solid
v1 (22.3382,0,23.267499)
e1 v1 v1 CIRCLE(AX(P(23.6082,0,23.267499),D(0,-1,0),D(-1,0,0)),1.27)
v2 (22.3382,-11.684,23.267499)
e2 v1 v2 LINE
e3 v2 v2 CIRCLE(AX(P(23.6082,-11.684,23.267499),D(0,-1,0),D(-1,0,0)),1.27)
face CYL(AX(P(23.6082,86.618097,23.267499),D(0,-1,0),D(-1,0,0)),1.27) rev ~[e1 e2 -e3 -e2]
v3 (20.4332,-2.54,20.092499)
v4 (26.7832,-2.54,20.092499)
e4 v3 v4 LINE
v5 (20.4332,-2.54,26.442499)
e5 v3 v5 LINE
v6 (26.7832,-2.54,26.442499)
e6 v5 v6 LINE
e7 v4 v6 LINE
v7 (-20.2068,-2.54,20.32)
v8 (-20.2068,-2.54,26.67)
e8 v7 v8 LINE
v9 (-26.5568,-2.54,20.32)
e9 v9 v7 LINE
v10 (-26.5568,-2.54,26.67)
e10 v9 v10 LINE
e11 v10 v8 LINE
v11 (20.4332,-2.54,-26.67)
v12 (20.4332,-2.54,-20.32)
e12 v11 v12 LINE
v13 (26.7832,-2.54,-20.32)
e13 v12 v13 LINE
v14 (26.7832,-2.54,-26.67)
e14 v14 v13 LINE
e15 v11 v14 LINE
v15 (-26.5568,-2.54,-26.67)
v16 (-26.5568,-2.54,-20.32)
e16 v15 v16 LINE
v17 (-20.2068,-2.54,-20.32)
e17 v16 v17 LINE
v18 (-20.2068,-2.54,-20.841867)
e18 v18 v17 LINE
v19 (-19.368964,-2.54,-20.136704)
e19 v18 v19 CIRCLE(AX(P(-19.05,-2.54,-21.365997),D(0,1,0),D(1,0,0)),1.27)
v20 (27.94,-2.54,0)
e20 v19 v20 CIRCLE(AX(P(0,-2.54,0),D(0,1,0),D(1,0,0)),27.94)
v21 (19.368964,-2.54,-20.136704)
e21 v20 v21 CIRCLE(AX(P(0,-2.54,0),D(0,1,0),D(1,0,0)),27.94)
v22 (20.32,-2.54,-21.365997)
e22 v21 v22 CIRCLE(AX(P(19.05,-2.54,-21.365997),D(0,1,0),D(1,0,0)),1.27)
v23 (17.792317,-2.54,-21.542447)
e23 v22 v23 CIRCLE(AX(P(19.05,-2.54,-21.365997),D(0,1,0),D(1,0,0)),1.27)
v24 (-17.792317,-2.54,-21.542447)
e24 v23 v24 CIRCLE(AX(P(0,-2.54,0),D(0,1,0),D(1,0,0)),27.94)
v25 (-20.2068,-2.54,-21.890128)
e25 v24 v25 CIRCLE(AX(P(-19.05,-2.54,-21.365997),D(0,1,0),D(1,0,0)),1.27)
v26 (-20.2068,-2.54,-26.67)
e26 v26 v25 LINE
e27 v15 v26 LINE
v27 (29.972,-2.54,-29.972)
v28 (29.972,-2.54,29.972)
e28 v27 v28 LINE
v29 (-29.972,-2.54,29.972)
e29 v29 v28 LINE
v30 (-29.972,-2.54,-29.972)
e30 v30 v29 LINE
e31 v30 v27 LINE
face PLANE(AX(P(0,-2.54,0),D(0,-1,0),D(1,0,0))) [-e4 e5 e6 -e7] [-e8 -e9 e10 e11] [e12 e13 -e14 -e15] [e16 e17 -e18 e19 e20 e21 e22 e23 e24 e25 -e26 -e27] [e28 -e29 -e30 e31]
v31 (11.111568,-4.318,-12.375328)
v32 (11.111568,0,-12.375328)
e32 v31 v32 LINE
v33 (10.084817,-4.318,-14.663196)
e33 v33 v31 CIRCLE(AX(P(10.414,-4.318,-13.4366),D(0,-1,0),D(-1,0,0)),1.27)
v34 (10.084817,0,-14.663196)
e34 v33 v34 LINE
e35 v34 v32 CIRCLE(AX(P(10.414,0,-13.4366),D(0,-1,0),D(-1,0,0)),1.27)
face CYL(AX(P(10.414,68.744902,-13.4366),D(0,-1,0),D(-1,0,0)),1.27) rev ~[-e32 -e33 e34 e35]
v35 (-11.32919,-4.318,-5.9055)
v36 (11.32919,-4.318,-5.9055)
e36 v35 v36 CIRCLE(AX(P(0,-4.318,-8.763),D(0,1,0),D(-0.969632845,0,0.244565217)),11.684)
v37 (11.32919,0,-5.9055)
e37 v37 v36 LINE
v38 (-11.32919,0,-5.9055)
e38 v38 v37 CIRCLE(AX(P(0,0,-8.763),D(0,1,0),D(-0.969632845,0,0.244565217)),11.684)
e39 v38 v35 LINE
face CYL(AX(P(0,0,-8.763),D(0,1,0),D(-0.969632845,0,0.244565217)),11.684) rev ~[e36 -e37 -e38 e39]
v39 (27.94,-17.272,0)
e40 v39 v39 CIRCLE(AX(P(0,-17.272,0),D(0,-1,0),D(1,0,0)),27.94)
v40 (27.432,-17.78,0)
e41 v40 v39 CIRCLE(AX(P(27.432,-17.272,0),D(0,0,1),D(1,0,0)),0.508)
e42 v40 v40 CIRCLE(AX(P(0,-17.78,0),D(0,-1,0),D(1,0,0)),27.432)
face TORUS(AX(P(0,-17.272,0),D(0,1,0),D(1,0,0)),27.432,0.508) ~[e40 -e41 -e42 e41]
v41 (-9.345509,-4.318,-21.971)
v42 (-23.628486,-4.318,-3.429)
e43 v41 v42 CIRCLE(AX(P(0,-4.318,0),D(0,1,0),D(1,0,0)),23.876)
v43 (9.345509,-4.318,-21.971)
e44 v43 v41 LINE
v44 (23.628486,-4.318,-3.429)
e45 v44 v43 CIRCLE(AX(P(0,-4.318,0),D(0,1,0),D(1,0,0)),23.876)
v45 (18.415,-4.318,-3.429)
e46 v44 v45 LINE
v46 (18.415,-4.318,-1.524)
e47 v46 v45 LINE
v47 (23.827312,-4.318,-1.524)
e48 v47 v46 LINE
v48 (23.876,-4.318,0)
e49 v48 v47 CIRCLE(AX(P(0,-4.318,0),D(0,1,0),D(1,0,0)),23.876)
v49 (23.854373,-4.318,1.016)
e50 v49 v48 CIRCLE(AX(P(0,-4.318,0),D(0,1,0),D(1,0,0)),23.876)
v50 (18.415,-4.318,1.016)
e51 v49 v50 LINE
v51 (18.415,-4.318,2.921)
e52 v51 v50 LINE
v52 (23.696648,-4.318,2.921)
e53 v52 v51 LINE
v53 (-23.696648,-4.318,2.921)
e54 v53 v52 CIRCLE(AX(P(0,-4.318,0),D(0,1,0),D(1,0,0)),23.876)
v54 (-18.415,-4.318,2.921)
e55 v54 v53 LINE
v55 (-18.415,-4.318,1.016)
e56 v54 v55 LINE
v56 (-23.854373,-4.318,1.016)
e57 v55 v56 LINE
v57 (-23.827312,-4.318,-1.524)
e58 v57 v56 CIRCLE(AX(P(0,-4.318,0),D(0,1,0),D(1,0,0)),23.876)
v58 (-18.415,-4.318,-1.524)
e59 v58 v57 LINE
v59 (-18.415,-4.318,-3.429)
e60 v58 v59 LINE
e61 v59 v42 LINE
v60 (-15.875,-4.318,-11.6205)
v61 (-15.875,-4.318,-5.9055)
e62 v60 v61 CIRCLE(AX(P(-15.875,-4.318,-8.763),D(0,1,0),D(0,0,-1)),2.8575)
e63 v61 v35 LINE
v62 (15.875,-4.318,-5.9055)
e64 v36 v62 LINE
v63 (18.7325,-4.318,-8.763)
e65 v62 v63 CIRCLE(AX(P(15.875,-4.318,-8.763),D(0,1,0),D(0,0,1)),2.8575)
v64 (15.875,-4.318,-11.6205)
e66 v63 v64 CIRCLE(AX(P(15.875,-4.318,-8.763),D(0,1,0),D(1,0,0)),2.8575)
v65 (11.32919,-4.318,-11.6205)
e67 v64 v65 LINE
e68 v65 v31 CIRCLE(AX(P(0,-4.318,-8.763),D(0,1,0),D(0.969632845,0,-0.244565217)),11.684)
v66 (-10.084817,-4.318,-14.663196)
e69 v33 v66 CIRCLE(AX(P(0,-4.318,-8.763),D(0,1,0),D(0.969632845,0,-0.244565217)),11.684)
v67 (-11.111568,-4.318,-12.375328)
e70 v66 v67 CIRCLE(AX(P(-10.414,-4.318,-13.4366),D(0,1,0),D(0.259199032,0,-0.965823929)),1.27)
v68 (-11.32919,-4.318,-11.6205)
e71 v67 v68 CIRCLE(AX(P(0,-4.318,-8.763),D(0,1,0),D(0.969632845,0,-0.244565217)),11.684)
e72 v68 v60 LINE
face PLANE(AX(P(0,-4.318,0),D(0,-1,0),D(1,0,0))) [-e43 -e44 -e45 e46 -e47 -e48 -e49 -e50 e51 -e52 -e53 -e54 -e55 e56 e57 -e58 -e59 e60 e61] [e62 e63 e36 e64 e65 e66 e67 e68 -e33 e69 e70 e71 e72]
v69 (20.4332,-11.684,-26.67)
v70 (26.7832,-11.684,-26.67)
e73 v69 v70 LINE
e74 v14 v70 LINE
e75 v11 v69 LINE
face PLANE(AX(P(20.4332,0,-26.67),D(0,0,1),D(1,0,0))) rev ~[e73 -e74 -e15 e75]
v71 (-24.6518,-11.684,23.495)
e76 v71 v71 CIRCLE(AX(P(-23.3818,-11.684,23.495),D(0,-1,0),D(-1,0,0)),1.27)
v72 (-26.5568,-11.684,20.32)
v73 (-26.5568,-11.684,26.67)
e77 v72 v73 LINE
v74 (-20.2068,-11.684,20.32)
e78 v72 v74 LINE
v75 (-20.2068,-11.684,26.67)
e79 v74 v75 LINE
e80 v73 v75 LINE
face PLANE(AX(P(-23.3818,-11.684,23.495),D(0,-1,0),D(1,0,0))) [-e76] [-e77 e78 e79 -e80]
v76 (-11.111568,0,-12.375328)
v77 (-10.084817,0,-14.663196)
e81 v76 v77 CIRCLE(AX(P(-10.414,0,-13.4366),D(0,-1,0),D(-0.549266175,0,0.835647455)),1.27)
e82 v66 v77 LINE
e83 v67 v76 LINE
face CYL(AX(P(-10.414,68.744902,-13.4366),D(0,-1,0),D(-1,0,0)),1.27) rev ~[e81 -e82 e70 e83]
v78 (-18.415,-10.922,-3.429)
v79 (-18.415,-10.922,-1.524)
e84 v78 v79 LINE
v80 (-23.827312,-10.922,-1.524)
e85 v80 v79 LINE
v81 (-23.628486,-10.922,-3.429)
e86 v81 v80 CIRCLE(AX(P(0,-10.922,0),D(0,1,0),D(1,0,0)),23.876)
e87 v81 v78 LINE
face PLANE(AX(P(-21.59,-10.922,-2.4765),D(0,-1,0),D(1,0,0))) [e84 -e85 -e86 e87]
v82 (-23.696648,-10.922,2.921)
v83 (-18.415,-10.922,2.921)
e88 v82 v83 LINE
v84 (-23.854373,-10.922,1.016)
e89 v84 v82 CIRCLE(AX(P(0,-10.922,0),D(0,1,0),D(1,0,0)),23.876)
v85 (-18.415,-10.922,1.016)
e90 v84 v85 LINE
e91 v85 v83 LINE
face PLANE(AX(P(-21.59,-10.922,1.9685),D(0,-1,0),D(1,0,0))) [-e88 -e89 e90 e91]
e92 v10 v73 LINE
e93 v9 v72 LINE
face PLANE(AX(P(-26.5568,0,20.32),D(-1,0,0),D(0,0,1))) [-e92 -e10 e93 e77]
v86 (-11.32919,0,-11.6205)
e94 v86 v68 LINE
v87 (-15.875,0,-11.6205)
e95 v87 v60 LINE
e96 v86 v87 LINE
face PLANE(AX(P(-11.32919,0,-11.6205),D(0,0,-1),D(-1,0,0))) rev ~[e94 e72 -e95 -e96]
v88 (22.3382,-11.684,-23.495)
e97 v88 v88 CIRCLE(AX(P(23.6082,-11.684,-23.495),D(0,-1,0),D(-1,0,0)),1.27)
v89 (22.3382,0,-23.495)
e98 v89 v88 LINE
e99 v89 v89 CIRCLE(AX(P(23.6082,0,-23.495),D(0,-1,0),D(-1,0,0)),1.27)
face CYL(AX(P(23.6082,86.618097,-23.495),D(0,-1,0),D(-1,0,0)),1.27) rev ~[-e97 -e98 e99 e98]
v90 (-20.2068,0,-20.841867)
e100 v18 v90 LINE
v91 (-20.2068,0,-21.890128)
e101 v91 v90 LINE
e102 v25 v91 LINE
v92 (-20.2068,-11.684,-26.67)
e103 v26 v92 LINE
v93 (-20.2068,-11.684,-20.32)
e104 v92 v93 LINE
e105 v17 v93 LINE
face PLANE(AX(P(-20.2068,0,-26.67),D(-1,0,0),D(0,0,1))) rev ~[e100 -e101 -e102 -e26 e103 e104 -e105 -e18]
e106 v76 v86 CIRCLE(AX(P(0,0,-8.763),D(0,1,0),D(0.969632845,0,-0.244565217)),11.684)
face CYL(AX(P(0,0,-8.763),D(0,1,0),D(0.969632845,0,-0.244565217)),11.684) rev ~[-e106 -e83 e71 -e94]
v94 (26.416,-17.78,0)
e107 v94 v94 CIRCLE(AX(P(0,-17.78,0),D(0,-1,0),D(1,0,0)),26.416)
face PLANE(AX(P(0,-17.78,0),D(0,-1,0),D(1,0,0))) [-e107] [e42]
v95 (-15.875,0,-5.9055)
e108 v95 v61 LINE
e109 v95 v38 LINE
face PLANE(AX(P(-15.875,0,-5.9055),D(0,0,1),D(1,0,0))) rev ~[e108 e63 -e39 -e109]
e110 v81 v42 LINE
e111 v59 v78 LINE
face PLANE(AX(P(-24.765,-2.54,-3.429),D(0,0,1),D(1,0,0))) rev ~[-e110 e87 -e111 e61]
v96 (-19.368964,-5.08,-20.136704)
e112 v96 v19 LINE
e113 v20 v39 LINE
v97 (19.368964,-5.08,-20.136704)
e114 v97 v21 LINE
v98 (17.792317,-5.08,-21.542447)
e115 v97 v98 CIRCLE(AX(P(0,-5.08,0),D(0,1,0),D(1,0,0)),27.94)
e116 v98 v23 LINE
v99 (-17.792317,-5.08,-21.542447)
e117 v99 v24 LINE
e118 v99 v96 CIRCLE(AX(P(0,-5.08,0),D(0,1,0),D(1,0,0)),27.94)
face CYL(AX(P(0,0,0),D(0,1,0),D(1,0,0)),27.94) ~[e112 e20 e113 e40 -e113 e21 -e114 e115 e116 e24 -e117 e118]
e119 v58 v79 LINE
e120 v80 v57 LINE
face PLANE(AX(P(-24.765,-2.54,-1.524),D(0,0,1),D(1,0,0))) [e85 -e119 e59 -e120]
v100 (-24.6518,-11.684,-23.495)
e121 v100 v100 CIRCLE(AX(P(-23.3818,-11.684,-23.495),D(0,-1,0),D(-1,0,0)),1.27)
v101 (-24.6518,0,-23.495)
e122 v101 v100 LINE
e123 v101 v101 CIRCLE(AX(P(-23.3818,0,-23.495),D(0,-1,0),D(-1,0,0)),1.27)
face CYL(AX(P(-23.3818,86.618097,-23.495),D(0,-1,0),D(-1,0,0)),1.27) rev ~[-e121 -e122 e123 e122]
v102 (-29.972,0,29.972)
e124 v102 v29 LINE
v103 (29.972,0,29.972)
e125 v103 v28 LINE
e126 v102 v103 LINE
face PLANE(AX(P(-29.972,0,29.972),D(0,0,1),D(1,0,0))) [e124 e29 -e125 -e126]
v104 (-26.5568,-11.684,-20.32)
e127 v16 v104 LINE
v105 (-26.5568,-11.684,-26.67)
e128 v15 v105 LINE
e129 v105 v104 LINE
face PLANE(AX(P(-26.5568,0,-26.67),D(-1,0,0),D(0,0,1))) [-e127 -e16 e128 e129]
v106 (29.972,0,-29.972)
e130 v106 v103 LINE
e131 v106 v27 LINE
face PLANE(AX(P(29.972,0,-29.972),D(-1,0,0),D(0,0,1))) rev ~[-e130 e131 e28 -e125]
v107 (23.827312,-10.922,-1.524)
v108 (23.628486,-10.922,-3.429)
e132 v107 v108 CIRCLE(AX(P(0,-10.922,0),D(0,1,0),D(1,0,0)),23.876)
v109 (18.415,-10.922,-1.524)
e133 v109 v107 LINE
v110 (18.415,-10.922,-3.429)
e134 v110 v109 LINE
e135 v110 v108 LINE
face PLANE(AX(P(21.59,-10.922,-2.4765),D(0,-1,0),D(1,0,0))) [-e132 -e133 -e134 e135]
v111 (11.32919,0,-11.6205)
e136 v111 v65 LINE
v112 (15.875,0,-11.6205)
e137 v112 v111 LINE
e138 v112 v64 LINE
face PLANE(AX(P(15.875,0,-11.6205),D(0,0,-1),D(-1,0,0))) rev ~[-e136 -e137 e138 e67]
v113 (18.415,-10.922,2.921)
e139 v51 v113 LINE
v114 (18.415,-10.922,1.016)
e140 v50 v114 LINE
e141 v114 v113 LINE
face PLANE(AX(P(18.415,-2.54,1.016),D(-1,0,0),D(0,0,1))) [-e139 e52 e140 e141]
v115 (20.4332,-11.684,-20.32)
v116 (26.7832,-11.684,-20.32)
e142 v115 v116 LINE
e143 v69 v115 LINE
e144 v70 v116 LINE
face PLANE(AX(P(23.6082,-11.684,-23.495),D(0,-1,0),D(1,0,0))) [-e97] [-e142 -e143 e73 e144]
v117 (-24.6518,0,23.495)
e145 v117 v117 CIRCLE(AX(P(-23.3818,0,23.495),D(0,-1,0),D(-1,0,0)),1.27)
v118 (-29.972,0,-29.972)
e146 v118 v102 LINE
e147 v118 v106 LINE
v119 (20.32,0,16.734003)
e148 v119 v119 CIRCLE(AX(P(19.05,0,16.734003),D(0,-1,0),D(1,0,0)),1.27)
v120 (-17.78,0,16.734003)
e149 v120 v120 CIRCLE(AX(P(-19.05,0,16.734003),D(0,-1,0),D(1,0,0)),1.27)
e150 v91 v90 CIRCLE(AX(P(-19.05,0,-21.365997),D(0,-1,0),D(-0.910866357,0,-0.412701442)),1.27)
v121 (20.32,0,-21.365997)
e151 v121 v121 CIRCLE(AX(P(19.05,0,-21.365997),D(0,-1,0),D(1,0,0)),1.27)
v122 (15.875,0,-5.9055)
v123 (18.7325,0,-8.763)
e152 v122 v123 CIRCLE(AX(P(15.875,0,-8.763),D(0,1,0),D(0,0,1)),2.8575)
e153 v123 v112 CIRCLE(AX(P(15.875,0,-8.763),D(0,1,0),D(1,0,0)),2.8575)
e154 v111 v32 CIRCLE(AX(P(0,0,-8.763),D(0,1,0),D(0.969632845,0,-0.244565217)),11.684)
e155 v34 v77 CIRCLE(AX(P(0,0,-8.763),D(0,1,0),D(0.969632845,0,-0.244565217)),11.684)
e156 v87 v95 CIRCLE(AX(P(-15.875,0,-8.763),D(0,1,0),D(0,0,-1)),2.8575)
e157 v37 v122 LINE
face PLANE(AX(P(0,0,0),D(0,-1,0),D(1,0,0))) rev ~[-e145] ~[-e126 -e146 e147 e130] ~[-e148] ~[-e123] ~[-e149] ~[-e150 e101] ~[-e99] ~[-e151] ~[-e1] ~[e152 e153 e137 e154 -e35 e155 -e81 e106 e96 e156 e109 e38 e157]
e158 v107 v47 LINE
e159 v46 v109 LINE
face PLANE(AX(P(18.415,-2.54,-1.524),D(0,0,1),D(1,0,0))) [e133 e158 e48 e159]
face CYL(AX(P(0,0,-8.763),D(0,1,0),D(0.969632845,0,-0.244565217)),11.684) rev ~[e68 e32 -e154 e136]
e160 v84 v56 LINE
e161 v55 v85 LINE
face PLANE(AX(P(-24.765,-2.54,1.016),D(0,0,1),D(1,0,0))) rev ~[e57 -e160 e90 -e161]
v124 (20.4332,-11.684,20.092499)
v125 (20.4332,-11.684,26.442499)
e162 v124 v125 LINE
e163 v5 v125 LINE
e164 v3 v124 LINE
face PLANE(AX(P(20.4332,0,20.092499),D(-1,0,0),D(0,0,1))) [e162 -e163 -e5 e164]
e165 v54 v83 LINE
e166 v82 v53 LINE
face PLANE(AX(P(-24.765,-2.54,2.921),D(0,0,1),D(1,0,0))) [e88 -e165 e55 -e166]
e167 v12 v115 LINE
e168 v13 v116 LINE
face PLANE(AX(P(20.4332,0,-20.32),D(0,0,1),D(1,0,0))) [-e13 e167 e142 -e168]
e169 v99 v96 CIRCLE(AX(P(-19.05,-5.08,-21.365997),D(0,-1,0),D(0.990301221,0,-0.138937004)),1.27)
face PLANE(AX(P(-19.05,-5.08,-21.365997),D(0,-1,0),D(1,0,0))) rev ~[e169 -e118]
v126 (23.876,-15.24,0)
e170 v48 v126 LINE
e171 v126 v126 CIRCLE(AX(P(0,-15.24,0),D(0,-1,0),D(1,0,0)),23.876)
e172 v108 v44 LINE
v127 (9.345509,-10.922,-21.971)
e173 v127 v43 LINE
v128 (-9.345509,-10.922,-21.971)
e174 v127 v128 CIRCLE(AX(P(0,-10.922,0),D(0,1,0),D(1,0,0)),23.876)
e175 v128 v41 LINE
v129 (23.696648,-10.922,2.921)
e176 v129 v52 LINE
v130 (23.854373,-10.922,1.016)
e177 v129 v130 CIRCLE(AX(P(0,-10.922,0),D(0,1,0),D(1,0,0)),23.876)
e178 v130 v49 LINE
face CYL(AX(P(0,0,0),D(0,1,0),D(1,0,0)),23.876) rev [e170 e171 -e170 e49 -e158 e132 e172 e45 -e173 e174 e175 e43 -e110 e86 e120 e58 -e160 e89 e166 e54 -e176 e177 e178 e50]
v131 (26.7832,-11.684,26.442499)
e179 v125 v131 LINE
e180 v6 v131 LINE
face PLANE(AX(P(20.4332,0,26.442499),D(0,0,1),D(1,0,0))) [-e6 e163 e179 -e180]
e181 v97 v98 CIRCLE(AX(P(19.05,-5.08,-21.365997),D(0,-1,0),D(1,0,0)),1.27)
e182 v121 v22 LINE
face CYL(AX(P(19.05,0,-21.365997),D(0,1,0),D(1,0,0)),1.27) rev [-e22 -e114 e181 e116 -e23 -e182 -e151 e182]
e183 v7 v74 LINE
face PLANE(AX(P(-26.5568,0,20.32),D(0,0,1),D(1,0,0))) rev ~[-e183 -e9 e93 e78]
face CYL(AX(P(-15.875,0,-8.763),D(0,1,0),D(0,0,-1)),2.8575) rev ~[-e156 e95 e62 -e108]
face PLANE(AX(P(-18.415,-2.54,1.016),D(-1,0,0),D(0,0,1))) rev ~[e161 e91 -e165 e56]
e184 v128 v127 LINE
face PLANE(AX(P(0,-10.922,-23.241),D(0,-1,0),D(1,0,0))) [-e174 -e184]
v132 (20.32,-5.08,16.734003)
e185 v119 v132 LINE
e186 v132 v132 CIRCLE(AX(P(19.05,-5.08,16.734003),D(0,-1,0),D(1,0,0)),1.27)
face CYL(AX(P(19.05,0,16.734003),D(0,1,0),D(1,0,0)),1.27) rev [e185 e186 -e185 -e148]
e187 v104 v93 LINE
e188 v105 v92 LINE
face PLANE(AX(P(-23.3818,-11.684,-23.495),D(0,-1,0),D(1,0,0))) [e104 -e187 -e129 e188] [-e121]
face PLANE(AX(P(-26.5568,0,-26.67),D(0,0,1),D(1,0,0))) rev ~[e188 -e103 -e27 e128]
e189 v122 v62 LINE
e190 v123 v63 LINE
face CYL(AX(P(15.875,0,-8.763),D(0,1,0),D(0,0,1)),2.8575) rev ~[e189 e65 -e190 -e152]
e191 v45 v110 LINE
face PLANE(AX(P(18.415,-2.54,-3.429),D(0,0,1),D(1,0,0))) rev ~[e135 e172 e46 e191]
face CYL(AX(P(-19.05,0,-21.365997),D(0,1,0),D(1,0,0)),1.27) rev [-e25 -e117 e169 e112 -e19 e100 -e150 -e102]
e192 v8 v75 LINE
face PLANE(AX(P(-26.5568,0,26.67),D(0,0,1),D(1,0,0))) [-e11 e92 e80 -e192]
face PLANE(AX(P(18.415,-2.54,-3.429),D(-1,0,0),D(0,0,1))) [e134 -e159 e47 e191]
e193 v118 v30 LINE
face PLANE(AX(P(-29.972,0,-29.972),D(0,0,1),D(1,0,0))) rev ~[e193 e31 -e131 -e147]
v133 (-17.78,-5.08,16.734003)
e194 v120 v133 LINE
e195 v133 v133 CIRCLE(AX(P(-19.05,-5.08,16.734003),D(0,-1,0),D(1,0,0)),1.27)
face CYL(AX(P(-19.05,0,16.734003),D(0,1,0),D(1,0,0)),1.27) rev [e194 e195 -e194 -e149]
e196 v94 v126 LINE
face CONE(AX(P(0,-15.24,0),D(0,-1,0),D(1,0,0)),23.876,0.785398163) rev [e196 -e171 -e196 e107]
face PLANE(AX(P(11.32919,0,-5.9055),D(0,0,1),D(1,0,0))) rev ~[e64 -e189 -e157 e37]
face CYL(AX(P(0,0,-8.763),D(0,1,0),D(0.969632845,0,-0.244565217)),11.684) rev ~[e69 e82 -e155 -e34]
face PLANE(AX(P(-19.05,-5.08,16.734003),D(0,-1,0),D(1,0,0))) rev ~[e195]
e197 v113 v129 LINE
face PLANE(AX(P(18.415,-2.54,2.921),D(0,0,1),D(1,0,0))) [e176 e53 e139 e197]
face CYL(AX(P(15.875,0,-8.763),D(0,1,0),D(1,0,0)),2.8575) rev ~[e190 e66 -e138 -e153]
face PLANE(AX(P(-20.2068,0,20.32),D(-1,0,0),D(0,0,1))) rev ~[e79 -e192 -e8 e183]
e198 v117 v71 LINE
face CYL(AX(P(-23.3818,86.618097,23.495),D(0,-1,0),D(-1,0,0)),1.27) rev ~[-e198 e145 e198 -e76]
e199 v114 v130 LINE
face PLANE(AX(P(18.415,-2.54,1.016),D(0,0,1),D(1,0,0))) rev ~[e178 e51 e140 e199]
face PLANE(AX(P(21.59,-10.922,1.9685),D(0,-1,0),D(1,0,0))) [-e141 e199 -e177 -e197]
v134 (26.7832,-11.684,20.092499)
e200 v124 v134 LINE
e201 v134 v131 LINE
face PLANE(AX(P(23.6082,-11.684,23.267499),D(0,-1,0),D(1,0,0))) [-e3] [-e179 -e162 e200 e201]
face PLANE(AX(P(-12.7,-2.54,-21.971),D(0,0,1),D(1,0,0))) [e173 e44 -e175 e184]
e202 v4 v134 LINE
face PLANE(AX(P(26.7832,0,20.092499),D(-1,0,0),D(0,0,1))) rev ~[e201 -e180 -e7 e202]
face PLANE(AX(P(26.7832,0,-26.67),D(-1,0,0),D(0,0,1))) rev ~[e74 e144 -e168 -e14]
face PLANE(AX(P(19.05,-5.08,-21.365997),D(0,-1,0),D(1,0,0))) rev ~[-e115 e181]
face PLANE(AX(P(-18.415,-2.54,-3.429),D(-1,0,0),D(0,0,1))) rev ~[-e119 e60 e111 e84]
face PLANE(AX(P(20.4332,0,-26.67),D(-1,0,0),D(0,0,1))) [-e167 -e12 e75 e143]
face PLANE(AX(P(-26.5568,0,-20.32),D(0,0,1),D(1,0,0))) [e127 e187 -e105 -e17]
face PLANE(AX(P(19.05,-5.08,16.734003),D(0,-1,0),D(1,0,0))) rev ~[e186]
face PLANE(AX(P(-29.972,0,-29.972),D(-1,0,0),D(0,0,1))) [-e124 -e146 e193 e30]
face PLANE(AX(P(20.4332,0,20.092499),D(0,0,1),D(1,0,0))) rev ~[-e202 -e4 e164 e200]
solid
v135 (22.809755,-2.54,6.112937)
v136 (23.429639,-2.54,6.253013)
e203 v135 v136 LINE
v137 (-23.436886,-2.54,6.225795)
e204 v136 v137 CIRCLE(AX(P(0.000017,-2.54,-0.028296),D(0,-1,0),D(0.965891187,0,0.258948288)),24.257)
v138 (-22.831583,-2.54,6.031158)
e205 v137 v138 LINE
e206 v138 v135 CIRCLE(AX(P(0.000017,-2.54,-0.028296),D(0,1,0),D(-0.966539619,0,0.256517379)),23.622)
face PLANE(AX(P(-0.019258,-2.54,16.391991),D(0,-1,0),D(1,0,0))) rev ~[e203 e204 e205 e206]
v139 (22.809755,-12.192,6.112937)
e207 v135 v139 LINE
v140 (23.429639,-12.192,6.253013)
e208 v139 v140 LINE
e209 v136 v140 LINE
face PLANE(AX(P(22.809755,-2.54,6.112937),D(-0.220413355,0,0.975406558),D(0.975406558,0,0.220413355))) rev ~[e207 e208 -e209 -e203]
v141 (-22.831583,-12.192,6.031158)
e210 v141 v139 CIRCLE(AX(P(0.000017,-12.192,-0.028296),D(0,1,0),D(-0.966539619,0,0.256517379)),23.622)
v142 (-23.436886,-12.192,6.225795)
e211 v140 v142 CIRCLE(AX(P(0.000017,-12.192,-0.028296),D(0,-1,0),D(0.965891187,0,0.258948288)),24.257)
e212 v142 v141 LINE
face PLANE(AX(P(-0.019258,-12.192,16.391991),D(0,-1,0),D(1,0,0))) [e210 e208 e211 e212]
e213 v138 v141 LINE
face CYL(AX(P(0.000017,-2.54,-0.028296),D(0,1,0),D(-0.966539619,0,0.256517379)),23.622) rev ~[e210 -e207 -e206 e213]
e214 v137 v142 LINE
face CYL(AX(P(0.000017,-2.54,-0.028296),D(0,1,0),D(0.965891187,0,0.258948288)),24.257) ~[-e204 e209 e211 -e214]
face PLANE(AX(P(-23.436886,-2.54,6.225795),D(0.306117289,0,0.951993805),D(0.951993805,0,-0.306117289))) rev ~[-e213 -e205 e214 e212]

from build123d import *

# Parameters (mm, degrees)
F0_R      = 24.257
F1_DEPTH  = 4.318
F2_D      = 2.54
F3_DEPTH  = 10.922
F4_R      = 27.94
F4_R_2    = 23.876
F5_DEPTH  = 17.78
F0_W      = 59.944
F0_H      = 59.944
F0_W_2    = 6.35
F0_H_2    = 6.35
F8_DEPTH  = 2.54
F10_DEPTH = 9.652
F11_R     = 1.27
F12_DEPTH = 5.08
F7_W      = 25.4
F7_H      = 2.54
F7_W_2    = 6.35
F7_H_2    = 1.905
F13_DEPTH = 8.382
F14_DEPTH = 11.684
F15_D     = 2.54
F16_SIZE  = 2.54
F17_R     = 0.508


with BuildPart() as f1:
    # F0 (on Front) → F1 (new body)
    with BuildSketch(Plane.XZ):
        Circle(F0_R)
        with BuildLine():
            ThreePointArc((-11.329190163, -5.9055), (0, 2.921), (11.329190163, -5.9055))
            Line((11.329190163, -5.9055), (15.875, -5.9055))
            ThreePointArc((15.875, -5.9055), (17.8955576272, -6.7424423728), (18.7325, -8.763))
            ThreePointArc((18.7325, -8.763), (17.8955576272, -10.7835576272), (15.875, -11.6205))
            Line((15.875, -11.6205), (11.329190163, -11.6205))
            ThreePointArc((11.329190163, -11.6205), (0, -20.447), (-11.329190163, -11.6205))
            Line((-11.329190163, -11.6205), (-15.875, -11.6205))
            ThreePointArc((-15.875, -11.6205), (-18.7325, -8.763), (-15.875, -5.9055))
            Line((-15.875, -5.9055), (-11.329190163, -5.9055))
        make_face(mode=Mode.SUBTRACT)
    extrude(amount=F1_DEPTH)

    # F2 (through all)
    with Locations(Plane(origin=(0, 0, 0), x_dir=(1, 0, 0), z_dir=(0, 1, 0))):
        with Locations((-10.414, 13.4366), (10.414, 13.4366)):
            Hole(F2_D / 2)

    # F0 (on Front) → F3 (cut)
    with BuildSketch(Plane.XZ):
        Circle(F0_R)
        with BuildLine():
            ThreePointArc((-11.329190163, -5.9055), (0, 2.921), (11.329190163, -5.9055))
            Line((11.329190163, -5.9055), (15.875, -5.9055))
            ThreePointArc((15.875, -5.9055), (17.8955576272, -6.7424423728), (18.7325, -8.763))
            ThreePointArc((18.7325, -8.763), (17.8955576272, -10.7835576272), (15.875, -11.6205))
            Line((15.875, -11.6205), (11.329190163, -11.6205))
            ThreePointArc((11.329190163, -11.6205), (0, -20.447), (-11.329190163, -11.6205))
            Line((-11.329190163, -11.6205), (-15.875, -11.6205))
            ThreePointArc((-15.875, -11.6205), (-18.7325, -8.763), (-15.875, -5.9055))
            Line((-15.875, -5.9055), (-11.329190163, -5.9055))
        make_face(mode=Mode.SUBTRACT)
        with BuildLine():
            ThreePointArc((-13.0175, -8.763), (-13.8544423728, -6.7424423728), (-15.875, -5.9055))
            Line((-15.875, -5.9055), (-15.875, -11.6205))
            ThreePointArc((-15.875, -11.6205), (-13.8544423728, -10.7835576272), (-13.0175, -8.763))
        make_face()
        with BuildLine():
            Line((-15.875, -11.6205), (-15.875, -5.9055))
            ThreePointArc((-15.875, -5.9055), (-18.7325, -8.763), (-15.875, -11.6205))
        make_face()
        with BuildLine():
            Line((15.875, -11.6205), (15.875, -5.9055))
            ThreePointArc((15.875, -5.9055), (13.0175, -8.763), (15.875, -11.6205))
        make_face()
        with BuildLine():
            ThreePointArc((18.7325, -8.763), (17.8955576272, -6.7424423728), (15.875, -5.9055))
            Line((15.875, -5.9055), (15.875, -11.6205))
            ThreePointArc((15.875, -11.6205), (17.8955576272, -10.7835576272), (18.7325, -8.763))
        make_face()
    extrude(amount=-F3_DEPTH, mode=Mode.SUBTRACT)

    # F4 (on Front) → F5 (join)
    with BuildSketch(Plane.XZ):
        Circle(F4_R)
        Circle(F4_R_2, mode=Mode.SUBTRACT)
    extrude(amount=F5_DEPTH)

    # F0 (on Front) → F8 (join)
    with BuildSketch(Plane.XZ):
        Rectangle(F0_W, F0_H)
        with Locations((-23.3818002729, -23.495)):
            Rectangle(F0_W_2, F0_H_2, mode=Mode.SUBTRACT)
        Circle(F0_R, mode=Mode.SUBTRACT)
        with Locations((23.6081997271, -23.495)):
            Rectangle(F0_W_2, F0_H_2, mode=Mode.SUBTRACT)
        with Locations((-23.3818002729, 23.495)):
            Rectangle(F0_W_2, F0_H_2, mode=Mode.SUBTRACT)
        with Locations((23.6081997271, 23.2674991059)):
            Rectangle(F0_W_2, F0_H_2, mode=Mode.SUBTRACT)
    extrude(amount=F8_DEPTH)

    # F11 (on Front) → F12 (cut)
    with BuildSketch(Plane.XZ):
        with Locations((19.05, 16.7340026)):
            Circle(F11_R)
        with Locations((-19.05, 16.7340026)):
            Circle(F11_R)
        with Locations((-19.05, -21.3659974)):
            Circle(F11_R)
        with Locations((19.05, -21.3659974)):
            Circle(F11_R)
    extrude(amount=F12_DEPTH, mode=Mode.SUBTRACT)

    # F7 (on offset) → F13 (join)
    with BuildSketch(Plane.XZ.offset(2.54)):
        with Locations((0, -23.241)):
            Rectangle(F7_W, F7_H)
        with Locations((-21.59, 1.9685)):
            Rectangle(F7_W_2, F7_H_2)
        with Locations((-21.59, -2.4765)):
            Rectangle(F7_W_2, F7_H_2)
        with Locations((21.59, -2.4765)):
            Rectangle(F7_W_2, F7_H_2)
        with Locations((21.59, 1.9685)):
            Rectangle(F7_W_2, F7_H_2)
    extrude(amount=F13_DEPTH)

    # F0 (on Front) → F14 (join)
    with BuildSketch(Plane.XZ):
        with Locations((-23.3818002729, -23.495)):
            Rectangle(F0_W_2, F0_H_2)
        with Locations((-23.3818002729, 23.495)):
            Rectangle(F0_W_2, F0_H_2)
        with Locations((23.6081997271, 23.2674991059)):
            Rectangle(F0_W_2, F0_H_2)
        with Locations((23.6081997271, -23.495)):
            Rectangle(F0_W_2, F0_H_2)
    extrude(amount=F14_DEPTH)

    # F15 (through all)
    with Locations(Plane(origin=(0, 0, 0), x_dir=(1, 0, 0), z_dir=(0, 1, 0))):
        with Locations((-23.3818002729, -23.495), (23.6081997271, -23.2674991059), (-23.3818002729, 23.495), (23.6081997271, 23.495)):
            Hole(F15_D / 2)

    # F16
    f16_edges = [f1.edges().sort_by_distance(p)[0] for p in [
        (-23.876, -17.78, 0),
    ]]
    chamfer(f16_edges, length=F16_SIZE)

    # F17
    f17_edges = [f1.edges().sort_by_distance(p)[0] for p in [
        (-27.94, -17.78, 0),
    ]]
    fillet(f17_edges, radius=F17_R)


with BuildPart() as f10:
    # F9 (on offset) → F10 (new body)
    with BuildSketch(Plane.XZ.offset(2.54)):
        with BuildLine():
            Line((22.8097548437, 6.1129368152), (23.4296390158, 6.2530125087))
            ThreePointArc((23.4296390158, 6.2530125087), (-0.0140705905, 24.2286998006), (-23.4368858608, 6.2257950758))
            Line((-23.4368858608, 6.2257950758), (-22.8315827941, 6.0311575344))
            ThreePointArc((-22.8315827941, 6.0311575344), (-0.0423088793, 23.5936664159), (22.8097548437, 6.1129368152))
        make_face()
    extrude(amount=F10_DEPTH)


solid = Compound([f1.part, f10.part])
